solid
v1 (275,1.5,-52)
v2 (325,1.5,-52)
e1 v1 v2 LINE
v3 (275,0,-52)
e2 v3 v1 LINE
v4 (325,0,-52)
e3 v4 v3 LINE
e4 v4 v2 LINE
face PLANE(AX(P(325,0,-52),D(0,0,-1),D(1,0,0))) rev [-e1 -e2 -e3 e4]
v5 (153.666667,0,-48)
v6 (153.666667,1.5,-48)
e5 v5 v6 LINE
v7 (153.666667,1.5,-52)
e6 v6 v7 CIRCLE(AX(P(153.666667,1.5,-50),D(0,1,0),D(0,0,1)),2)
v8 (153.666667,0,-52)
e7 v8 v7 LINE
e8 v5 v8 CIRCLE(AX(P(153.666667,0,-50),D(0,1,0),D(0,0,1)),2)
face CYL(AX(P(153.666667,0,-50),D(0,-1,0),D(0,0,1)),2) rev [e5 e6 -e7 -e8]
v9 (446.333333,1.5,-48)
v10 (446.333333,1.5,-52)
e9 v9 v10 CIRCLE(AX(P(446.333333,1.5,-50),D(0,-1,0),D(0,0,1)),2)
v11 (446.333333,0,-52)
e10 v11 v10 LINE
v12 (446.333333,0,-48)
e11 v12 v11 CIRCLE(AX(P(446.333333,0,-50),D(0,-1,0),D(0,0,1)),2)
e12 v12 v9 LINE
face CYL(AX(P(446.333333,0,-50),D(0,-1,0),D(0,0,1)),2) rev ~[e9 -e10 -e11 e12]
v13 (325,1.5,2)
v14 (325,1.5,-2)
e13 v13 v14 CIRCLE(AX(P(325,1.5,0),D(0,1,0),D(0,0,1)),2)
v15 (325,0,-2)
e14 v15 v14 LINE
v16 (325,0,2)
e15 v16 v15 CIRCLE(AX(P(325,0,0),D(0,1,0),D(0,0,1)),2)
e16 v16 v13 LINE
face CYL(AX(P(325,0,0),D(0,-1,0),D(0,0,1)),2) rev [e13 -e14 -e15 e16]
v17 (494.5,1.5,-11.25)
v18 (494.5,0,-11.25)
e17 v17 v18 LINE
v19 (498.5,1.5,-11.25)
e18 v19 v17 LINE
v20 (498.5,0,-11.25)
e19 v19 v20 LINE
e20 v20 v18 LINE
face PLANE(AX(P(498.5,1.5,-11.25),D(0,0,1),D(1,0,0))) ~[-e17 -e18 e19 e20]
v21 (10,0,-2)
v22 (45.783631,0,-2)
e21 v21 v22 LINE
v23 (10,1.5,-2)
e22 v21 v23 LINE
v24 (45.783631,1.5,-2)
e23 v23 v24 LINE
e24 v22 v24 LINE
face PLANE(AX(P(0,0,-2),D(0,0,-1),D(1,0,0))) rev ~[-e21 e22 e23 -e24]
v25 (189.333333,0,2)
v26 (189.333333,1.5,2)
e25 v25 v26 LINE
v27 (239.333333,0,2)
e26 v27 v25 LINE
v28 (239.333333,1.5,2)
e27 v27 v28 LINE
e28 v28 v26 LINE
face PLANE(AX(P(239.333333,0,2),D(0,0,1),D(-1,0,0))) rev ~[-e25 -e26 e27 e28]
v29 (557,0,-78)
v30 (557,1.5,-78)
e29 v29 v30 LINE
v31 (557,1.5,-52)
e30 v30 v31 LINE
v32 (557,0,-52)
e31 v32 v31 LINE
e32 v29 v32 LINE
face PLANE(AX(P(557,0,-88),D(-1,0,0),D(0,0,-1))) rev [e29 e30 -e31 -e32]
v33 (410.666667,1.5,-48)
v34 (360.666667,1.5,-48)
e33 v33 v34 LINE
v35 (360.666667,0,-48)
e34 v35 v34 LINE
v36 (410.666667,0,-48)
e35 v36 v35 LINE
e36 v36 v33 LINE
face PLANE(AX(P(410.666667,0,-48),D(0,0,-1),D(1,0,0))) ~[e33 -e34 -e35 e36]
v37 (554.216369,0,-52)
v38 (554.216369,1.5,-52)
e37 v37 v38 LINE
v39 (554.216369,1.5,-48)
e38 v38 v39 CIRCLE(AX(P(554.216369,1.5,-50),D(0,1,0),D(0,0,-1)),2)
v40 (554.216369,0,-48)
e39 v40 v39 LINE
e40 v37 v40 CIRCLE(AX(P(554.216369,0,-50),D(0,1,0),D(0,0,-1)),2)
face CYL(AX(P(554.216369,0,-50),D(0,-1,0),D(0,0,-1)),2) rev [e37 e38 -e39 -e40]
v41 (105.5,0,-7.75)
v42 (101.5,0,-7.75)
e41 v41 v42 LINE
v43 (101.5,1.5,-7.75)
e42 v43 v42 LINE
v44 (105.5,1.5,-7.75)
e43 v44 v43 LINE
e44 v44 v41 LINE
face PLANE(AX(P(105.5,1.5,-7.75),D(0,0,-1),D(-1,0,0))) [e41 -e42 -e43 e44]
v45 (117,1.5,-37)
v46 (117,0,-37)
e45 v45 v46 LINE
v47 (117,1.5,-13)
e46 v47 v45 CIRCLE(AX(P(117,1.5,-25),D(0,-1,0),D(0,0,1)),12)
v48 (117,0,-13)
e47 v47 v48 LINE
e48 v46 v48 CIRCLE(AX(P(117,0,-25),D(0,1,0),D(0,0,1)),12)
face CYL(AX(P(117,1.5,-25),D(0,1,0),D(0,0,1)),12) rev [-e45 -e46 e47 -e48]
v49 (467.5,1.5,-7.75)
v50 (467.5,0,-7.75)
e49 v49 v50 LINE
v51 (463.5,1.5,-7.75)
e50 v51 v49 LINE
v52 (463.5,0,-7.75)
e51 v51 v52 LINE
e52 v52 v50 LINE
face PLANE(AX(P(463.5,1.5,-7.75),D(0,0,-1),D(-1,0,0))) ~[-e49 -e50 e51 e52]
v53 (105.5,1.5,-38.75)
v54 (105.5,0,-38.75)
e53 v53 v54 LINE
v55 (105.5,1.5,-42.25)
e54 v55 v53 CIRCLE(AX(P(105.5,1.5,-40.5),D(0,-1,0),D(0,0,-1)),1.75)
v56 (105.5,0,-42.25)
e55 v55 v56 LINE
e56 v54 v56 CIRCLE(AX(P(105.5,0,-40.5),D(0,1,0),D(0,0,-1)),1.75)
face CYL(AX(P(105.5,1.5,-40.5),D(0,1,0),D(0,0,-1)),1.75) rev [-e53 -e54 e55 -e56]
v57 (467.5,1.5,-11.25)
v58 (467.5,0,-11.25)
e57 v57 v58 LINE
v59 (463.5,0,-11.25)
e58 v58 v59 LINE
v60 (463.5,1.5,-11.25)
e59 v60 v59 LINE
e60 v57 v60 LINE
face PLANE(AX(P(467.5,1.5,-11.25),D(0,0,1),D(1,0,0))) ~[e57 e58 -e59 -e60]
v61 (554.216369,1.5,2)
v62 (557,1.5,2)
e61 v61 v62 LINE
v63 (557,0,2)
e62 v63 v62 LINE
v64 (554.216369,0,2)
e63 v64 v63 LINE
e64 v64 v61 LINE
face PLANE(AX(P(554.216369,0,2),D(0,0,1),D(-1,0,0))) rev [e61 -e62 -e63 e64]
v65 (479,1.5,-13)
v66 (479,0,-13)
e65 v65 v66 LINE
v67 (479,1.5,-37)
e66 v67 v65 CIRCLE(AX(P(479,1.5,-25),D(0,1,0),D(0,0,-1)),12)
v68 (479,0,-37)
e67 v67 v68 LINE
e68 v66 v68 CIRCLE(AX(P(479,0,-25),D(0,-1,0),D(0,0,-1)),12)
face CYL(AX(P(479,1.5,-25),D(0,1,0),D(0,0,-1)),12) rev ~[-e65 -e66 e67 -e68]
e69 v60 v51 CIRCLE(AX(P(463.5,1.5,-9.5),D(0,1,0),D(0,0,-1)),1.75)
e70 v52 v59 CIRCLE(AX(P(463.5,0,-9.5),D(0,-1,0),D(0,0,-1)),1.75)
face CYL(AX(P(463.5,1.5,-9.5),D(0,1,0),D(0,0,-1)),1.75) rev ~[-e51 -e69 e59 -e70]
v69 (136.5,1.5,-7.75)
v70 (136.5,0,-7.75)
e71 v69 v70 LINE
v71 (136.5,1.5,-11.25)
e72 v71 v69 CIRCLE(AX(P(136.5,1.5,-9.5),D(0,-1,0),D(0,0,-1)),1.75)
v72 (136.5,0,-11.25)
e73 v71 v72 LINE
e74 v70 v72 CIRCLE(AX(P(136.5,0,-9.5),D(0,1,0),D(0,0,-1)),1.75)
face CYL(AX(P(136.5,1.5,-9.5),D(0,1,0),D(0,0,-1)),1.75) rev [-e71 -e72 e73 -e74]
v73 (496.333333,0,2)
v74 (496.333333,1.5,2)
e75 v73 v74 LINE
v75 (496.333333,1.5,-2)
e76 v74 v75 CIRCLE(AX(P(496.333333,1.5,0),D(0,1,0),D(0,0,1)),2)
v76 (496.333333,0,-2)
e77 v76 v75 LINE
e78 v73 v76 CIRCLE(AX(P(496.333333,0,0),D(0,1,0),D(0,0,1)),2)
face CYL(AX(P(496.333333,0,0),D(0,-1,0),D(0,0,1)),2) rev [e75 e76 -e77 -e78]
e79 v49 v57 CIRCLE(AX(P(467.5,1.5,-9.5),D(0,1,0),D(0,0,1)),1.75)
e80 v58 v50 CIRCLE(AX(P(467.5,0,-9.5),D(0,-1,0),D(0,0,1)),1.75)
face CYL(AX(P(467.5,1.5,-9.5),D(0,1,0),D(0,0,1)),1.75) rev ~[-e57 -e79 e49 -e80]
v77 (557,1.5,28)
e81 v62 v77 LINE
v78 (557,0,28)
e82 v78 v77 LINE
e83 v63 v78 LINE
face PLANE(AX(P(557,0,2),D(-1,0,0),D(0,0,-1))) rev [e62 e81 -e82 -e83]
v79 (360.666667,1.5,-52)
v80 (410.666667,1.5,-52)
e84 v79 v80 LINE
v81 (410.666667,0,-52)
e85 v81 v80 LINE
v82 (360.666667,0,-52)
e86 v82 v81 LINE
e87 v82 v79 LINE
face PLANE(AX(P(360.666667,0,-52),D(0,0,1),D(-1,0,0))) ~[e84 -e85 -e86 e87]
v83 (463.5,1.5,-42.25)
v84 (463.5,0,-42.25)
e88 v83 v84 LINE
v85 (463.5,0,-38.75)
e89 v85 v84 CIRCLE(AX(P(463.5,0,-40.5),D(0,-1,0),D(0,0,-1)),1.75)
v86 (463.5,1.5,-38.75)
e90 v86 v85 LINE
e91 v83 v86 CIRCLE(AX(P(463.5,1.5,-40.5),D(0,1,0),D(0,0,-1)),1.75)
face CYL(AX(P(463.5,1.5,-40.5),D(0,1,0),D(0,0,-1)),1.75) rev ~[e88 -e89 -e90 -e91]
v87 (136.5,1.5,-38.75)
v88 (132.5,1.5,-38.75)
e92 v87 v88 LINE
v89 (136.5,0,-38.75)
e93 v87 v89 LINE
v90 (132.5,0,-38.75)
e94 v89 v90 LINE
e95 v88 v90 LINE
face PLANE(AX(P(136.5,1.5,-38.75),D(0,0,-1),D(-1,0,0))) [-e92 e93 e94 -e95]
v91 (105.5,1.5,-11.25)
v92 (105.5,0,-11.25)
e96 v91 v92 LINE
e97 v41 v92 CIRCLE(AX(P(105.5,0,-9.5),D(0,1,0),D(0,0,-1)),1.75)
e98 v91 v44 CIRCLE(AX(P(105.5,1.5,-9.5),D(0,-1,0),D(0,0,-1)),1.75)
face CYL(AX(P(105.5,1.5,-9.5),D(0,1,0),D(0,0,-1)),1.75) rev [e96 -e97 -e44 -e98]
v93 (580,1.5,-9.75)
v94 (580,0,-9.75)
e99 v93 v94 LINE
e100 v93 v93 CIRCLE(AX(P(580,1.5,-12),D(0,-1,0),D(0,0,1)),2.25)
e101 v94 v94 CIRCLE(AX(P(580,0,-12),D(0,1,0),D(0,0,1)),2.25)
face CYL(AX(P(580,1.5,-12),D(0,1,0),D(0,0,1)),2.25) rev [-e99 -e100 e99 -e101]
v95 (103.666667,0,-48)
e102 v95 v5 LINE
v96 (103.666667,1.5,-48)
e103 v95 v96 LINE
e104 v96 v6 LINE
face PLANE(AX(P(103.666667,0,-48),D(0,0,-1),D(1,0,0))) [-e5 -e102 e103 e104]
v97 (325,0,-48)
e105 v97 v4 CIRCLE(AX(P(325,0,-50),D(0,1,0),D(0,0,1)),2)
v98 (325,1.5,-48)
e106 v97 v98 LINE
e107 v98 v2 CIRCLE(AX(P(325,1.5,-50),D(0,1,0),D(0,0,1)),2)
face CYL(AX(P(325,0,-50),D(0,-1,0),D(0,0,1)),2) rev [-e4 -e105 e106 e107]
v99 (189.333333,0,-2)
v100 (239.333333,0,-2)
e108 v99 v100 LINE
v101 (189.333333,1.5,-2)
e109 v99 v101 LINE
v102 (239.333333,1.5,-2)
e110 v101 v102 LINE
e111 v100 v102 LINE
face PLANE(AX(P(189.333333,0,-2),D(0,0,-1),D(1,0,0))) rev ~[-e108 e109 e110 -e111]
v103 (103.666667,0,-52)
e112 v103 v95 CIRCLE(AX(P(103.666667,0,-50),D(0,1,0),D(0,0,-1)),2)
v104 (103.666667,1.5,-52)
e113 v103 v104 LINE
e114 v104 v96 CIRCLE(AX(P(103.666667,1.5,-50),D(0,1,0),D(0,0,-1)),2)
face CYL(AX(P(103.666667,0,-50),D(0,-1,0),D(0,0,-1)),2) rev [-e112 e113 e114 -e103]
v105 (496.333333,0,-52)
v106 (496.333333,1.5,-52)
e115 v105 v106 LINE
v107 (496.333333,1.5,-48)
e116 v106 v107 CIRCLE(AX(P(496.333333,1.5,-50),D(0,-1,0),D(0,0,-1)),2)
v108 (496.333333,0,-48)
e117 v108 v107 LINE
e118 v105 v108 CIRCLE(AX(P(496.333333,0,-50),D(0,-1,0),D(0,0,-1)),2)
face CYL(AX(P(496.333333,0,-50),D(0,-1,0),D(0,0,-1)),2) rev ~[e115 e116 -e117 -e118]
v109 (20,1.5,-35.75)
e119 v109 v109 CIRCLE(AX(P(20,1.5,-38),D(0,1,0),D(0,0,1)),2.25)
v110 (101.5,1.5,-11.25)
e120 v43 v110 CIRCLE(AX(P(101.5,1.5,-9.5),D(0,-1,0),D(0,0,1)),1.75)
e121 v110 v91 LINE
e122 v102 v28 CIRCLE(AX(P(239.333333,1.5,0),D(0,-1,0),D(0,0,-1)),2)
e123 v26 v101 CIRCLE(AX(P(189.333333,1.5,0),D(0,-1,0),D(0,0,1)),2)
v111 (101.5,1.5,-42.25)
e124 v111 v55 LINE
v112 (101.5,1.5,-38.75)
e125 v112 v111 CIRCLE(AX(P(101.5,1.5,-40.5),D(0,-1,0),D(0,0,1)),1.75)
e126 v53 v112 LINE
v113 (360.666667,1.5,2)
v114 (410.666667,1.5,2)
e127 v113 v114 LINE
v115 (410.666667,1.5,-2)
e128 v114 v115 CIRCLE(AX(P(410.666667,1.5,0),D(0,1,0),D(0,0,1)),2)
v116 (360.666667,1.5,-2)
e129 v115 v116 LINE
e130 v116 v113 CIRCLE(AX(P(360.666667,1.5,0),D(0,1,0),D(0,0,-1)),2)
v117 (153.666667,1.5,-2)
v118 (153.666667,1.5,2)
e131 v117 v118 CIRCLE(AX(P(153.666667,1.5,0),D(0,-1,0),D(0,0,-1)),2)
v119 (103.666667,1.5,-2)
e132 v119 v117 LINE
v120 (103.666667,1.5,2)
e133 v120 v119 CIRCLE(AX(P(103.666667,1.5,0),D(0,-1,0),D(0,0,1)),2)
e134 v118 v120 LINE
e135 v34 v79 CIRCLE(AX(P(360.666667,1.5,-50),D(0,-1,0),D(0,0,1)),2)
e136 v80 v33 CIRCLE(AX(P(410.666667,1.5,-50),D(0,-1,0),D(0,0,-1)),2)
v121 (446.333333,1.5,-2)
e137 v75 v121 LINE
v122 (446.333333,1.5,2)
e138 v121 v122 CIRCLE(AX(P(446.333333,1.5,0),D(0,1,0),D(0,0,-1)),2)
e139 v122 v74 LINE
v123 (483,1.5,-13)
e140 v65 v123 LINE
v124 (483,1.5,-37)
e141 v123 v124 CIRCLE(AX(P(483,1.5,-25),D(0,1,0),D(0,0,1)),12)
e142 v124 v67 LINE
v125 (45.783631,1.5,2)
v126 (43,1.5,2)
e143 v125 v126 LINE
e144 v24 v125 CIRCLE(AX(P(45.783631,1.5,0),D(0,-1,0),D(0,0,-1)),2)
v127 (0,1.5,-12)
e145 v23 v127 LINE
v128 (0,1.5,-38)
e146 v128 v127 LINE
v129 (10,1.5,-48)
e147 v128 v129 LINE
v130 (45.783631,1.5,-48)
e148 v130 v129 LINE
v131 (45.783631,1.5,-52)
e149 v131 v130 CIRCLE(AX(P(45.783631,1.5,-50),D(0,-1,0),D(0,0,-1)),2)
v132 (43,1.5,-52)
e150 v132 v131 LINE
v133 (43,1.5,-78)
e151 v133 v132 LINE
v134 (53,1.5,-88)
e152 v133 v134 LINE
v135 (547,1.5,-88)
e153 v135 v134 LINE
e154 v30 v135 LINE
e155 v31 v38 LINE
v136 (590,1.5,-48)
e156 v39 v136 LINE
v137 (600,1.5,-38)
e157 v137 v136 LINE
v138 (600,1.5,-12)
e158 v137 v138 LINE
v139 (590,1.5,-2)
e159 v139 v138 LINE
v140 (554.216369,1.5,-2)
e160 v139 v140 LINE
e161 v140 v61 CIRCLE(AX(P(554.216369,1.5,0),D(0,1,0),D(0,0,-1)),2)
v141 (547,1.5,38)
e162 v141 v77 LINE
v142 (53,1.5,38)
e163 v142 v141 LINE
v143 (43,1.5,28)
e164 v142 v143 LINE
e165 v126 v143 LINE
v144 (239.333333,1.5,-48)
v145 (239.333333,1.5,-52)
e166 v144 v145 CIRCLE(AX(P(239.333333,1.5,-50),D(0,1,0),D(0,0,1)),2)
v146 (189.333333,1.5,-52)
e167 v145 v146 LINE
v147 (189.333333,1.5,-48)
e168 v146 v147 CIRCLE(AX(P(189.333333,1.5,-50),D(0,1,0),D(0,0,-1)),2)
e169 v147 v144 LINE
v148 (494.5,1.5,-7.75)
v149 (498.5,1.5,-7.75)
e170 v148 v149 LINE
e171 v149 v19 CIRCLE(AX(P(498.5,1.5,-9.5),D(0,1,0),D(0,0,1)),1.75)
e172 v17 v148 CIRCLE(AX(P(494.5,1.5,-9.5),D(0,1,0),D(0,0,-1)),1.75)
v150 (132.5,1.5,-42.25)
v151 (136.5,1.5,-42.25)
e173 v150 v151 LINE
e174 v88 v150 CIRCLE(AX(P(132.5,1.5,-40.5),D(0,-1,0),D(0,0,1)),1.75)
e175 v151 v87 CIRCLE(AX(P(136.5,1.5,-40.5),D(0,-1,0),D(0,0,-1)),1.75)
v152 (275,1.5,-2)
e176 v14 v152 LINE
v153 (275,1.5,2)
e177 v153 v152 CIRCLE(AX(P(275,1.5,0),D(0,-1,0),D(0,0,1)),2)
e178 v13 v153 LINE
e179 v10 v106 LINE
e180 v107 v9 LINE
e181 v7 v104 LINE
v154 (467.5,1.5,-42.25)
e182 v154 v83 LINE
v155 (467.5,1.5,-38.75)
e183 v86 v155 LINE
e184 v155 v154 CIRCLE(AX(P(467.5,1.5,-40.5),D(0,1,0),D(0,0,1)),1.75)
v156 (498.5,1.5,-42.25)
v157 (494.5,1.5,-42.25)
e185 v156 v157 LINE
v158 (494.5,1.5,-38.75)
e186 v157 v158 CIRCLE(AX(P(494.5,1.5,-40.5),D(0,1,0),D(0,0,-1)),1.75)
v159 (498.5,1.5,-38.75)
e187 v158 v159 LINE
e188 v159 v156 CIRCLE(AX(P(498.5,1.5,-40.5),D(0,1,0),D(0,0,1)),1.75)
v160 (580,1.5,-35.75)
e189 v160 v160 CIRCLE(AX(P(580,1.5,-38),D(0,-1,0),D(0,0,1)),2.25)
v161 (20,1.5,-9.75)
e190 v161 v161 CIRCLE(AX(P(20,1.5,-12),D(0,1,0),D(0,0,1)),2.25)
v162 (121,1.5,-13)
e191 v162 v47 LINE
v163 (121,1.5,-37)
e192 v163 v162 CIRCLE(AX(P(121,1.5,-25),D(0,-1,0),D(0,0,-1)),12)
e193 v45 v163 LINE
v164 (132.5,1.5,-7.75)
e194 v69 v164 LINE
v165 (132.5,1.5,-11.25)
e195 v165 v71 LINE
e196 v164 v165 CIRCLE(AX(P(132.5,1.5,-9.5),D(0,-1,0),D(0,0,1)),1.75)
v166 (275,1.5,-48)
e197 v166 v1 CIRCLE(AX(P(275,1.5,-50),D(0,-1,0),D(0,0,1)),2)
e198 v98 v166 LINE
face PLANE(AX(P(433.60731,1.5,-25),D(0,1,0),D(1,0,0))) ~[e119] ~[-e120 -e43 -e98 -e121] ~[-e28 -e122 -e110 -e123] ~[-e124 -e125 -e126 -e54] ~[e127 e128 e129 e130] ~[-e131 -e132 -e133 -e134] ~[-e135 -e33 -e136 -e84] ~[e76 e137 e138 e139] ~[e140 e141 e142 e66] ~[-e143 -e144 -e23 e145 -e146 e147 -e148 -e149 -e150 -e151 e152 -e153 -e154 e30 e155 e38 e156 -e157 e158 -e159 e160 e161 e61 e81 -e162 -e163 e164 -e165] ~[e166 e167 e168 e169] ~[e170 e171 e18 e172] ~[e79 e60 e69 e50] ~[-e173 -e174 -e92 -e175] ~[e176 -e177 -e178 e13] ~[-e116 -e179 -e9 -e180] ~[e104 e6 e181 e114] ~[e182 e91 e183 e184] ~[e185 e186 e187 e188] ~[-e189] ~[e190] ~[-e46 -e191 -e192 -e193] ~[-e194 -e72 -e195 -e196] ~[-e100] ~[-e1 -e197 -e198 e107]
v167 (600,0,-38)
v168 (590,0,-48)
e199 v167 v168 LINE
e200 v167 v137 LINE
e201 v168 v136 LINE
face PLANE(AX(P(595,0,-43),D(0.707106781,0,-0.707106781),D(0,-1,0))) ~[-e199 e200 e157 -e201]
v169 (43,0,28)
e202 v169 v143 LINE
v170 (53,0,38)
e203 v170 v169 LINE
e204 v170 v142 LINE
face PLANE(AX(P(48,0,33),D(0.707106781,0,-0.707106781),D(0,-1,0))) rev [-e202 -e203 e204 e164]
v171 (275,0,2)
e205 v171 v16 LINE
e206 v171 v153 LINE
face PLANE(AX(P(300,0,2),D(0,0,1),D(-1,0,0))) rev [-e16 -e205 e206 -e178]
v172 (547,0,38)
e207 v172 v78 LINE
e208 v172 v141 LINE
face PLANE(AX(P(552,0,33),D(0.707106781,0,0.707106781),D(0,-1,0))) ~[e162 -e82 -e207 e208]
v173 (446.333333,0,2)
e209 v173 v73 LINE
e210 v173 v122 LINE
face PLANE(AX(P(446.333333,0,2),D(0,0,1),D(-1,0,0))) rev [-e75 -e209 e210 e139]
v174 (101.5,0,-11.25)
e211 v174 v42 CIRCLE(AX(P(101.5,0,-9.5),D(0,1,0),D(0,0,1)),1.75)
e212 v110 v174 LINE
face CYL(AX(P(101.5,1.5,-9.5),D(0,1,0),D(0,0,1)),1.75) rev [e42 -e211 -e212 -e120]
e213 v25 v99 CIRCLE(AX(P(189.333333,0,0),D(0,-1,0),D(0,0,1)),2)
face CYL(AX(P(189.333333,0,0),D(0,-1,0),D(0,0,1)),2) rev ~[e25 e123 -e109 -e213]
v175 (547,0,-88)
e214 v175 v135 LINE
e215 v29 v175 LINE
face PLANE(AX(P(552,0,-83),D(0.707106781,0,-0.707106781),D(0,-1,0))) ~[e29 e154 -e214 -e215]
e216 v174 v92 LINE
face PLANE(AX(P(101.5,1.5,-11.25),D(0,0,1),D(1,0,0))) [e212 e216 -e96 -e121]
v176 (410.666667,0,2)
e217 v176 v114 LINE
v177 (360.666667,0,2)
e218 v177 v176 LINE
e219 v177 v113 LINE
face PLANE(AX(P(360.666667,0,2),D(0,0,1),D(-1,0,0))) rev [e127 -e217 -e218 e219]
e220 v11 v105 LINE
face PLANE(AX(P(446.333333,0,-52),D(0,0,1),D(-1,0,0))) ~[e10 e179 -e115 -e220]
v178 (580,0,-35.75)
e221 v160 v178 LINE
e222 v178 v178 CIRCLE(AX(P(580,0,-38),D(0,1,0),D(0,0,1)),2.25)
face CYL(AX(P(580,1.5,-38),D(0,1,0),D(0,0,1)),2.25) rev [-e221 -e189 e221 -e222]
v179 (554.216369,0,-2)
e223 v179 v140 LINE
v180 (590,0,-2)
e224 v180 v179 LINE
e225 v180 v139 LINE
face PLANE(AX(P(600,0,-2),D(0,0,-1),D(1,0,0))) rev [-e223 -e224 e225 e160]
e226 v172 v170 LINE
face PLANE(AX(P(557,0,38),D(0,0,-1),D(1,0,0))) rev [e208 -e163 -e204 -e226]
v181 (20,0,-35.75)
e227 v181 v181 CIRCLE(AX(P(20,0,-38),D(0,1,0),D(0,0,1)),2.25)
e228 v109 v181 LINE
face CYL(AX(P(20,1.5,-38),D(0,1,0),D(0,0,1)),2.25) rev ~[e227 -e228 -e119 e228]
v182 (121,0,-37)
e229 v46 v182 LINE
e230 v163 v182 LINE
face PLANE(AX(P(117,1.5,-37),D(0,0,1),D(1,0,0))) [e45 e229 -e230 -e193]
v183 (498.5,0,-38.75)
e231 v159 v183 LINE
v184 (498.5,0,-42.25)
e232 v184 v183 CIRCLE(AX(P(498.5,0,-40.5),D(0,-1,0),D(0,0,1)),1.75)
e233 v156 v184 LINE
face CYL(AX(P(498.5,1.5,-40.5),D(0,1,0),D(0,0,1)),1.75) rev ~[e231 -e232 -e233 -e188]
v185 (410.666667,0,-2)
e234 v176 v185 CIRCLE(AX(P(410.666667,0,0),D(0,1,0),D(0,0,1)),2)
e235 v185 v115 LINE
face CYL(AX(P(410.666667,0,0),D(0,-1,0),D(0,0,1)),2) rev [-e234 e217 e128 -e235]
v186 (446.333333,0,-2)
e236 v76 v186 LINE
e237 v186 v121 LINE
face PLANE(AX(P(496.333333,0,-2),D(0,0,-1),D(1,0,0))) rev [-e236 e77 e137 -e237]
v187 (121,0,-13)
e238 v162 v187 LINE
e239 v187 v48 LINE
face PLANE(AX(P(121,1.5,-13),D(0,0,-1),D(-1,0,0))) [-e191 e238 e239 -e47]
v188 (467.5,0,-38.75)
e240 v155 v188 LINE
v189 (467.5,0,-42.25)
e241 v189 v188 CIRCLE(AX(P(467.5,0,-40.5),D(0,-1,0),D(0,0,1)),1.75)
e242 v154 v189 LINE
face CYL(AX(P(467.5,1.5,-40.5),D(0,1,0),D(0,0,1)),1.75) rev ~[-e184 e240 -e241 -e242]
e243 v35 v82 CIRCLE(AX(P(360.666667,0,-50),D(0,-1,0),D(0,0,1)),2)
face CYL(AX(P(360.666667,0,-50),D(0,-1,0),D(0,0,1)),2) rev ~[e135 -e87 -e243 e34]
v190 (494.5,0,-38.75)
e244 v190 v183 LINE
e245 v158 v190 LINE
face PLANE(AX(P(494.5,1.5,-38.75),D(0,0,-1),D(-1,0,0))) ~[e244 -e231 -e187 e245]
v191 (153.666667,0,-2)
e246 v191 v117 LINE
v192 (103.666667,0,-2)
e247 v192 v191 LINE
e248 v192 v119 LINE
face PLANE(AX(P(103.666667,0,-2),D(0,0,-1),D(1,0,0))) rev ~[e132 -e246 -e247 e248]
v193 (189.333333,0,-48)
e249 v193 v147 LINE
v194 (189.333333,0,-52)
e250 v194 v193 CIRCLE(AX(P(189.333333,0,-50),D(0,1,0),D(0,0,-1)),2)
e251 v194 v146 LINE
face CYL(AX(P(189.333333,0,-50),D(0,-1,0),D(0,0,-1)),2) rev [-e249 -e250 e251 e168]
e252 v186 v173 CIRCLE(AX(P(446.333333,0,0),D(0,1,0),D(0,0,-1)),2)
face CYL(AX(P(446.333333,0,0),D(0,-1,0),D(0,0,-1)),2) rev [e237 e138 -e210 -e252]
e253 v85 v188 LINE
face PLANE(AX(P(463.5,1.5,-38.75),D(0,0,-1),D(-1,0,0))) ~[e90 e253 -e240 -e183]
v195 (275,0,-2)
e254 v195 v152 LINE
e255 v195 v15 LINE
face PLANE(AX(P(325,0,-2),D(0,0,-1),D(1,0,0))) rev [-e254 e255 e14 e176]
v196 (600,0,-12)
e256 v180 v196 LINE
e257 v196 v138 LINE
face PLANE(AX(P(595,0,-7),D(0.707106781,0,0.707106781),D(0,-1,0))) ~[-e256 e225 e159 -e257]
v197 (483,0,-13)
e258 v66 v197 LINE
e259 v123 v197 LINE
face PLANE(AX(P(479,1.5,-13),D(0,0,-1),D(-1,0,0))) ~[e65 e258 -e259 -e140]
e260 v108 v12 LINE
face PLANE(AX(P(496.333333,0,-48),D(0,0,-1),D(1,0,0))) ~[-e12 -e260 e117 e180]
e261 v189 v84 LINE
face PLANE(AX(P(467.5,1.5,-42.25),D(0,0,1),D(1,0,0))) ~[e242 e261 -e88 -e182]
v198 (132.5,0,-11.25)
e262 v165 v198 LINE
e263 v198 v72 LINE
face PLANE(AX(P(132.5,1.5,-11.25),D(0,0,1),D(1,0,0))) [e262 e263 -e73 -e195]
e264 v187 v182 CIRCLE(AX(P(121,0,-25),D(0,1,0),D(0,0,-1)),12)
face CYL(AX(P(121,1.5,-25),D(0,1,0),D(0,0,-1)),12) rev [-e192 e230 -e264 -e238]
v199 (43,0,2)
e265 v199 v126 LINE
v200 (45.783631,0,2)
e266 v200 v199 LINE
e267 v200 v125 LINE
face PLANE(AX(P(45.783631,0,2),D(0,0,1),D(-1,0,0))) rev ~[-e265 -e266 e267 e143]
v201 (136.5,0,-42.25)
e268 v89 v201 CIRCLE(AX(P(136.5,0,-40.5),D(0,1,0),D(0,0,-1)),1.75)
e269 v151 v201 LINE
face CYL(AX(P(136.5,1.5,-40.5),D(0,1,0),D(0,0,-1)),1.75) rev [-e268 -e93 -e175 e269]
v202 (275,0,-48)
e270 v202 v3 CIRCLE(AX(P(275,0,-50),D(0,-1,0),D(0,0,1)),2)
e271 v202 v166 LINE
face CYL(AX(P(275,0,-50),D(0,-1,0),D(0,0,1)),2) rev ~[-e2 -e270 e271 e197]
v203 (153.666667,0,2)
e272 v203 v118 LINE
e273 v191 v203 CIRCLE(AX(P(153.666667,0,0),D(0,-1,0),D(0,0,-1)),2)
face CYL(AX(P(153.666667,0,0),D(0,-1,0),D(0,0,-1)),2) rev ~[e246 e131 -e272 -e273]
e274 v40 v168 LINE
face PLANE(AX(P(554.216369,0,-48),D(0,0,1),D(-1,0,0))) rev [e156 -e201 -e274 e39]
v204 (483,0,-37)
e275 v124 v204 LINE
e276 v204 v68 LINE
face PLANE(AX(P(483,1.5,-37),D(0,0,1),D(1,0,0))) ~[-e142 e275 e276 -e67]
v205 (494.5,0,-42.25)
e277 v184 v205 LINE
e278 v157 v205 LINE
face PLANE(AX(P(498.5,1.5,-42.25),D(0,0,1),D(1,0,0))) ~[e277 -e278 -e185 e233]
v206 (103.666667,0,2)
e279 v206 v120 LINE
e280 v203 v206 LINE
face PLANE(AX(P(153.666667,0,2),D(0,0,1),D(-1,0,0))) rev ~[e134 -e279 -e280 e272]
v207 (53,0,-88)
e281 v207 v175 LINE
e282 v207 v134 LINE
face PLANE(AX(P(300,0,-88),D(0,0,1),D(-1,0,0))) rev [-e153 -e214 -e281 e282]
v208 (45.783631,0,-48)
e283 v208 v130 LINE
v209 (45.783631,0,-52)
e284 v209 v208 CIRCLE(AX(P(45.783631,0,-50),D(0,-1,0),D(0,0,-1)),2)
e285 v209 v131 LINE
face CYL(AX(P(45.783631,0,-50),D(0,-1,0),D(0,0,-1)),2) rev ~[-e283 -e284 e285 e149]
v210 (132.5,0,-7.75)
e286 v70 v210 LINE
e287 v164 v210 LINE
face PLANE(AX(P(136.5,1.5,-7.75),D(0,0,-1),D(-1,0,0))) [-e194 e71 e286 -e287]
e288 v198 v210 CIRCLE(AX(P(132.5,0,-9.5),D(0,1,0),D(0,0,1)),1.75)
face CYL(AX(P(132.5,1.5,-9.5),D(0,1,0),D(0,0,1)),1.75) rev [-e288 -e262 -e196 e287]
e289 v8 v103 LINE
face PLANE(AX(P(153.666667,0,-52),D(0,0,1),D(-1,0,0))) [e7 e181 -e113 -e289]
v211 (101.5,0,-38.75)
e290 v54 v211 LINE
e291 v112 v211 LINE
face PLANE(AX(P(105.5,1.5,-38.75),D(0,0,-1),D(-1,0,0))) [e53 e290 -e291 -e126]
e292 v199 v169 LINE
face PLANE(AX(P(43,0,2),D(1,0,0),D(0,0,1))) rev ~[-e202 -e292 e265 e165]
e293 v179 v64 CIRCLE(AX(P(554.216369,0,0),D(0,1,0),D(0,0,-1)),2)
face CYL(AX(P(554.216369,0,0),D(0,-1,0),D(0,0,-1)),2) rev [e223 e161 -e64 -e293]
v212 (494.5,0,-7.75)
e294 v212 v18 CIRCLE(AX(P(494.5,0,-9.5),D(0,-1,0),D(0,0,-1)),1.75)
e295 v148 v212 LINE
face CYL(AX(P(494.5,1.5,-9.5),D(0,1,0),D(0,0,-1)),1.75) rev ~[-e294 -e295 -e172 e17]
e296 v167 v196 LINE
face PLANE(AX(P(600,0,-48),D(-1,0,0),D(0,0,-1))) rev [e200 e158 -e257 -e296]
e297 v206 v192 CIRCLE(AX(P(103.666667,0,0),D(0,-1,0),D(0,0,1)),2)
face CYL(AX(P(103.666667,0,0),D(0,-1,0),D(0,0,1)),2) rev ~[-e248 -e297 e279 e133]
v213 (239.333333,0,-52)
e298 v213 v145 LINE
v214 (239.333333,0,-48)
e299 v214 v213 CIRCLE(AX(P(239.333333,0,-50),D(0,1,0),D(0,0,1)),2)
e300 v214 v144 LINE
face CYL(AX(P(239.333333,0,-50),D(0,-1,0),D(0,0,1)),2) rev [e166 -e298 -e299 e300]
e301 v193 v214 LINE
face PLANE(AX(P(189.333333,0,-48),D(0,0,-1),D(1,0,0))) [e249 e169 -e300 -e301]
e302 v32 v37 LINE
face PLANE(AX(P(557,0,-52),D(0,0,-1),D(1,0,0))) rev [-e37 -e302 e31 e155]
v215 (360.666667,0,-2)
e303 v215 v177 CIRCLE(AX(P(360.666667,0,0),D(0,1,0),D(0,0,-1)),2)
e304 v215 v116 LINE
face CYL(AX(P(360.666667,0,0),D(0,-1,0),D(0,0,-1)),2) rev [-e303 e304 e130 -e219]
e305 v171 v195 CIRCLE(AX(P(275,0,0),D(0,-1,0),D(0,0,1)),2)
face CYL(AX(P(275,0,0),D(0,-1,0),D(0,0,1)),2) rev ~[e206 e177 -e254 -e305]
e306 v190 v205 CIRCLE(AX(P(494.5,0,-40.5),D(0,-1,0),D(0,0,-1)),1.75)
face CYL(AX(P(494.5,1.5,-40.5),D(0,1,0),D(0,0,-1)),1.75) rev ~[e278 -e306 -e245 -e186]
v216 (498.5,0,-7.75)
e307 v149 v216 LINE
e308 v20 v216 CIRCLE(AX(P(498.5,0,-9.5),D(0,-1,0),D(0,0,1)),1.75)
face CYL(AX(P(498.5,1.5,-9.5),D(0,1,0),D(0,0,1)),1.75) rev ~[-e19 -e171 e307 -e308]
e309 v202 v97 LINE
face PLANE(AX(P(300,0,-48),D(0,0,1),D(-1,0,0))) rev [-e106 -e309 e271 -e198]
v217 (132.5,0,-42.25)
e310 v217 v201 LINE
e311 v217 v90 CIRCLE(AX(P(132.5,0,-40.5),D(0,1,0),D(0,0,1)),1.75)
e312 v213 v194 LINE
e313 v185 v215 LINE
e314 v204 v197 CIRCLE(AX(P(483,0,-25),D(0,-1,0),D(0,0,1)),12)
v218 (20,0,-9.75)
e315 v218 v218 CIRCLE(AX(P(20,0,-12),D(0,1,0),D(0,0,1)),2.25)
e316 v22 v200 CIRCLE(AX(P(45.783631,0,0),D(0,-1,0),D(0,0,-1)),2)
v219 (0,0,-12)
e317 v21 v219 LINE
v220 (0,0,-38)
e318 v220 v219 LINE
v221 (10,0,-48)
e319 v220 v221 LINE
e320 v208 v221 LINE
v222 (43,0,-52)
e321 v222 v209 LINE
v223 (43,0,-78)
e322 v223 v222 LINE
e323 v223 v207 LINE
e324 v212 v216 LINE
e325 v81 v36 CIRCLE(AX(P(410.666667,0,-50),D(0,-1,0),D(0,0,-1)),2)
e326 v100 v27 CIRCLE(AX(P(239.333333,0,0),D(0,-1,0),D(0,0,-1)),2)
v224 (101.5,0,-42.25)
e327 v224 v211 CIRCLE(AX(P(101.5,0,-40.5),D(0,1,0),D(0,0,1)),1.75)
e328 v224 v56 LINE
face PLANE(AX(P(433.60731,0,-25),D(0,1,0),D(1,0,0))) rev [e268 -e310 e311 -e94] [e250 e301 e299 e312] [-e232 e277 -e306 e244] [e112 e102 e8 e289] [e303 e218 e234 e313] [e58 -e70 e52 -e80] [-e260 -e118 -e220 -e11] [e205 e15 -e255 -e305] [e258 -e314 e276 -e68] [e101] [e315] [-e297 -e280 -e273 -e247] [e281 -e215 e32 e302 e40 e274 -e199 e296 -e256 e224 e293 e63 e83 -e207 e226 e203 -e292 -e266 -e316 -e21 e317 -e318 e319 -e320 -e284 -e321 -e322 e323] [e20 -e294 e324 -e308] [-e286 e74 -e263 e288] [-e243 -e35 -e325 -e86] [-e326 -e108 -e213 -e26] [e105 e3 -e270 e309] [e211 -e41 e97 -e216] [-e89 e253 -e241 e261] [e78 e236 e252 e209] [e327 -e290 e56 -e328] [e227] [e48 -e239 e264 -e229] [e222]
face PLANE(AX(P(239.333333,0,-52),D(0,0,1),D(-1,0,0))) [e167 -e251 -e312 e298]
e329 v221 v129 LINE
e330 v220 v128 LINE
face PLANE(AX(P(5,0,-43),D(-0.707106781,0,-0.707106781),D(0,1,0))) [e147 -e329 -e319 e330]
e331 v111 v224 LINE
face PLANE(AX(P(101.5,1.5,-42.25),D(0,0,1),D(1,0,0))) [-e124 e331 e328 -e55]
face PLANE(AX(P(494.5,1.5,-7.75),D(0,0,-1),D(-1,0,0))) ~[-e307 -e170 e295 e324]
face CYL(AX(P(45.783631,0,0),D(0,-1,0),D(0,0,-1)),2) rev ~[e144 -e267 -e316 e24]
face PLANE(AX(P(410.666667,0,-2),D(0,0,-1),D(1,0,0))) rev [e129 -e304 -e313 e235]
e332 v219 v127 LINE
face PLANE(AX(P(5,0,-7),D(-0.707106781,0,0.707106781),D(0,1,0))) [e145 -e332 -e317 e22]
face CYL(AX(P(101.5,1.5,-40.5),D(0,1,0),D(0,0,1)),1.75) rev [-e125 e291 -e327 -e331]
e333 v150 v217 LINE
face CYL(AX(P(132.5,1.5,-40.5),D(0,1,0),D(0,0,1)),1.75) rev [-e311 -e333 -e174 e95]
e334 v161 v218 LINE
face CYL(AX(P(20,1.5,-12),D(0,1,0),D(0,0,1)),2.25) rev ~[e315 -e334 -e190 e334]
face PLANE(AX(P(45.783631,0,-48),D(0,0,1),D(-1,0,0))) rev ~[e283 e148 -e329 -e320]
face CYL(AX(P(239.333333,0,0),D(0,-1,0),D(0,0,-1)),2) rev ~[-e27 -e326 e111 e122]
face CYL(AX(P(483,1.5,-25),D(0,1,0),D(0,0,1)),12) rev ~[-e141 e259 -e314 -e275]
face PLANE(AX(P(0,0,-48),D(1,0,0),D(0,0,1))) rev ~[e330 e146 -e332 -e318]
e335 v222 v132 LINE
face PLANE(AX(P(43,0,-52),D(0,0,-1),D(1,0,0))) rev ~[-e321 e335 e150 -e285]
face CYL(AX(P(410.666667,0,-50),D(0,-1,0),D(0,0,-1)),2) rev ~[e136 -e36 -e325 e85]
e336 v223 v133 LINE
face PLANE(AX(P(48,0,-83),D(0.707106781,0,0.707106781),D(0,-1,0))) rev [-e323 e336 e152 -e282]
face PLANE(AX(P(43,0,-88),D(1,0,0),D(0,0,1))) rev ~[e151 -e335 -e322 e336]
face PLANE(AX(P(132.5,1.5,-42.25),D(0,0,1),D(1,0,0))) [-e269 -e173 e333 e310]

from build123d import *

# Parameters (mm, degrees)
BOSS_EXTRUDE1_DEPTH = 1.5
CUT_EXTRUDE2_DEPTH  = 3
SKETCH4_R           = 2.25
CUT_EXTRUDE3_DEPTH  = 10
CHAMFER3_SIZE       = 10
CHAMFER4_SIZE       = 10


with BuildPart() as part:
    # Sketch1 → Boss-Extrude1 (new body)
    with BuildSketch(Plane(origin=(0, 0, 0), x_dir=(1, 0, 0), z_dir=(0, 1, 0))):
        with BuildLine():
            Line((300, 2), (300, 48))
            Line((300, 48), (275, 48))
            ThreePointArc((275, 48), (273, 50), (275, 52))
            Line((275, 52), (300, 52))
            Line((300, 52), (300, 88))
            Line((300, 88), (43, 88))
            Line((43, 88), (43, 52))
            Line((43, 52), (45.783630632, 52))
            ThreePointArc((45.783630632, 52), (47.783630632, 50), (45.783630632, 48))
            Line((45.783630632, 48), (43, 48))
            Line((43, 48), (0, 48))
            Line((0, 48), (0, 2))
            Line((0, 2), (43, 2))
            Line((43, 2), (45.783630632, 2))
            ThreePointArc((45.783630632, 2), (47.783630632, 0), (45.783630632, -2))
            Line((45.783630632, -2), (43, -2))
            Line((43, -2), (43, -38))
            Line((43, -38), (300, -38))
            Line((300, -38), (300, -2))
            Line((300, -2), (275, -2))
            ThreePointArc((275, -2), (273, 0), (275, 2))
            Line((275, 2), (300, 2))
        make_face()
        with BuildLine():
            Line((103.666666667, 2), (153.666666667, 2))
            ThreePointArc((153.666666667, 2), (155.666666667, 0), (153.666666667, -2))
            Line((153.666666667, -2), (103.666666667, -2))
            ThreePointArc((103.666666667, -2), (101.666666667, 0), (103.666666667, 2))
        make_face(mode=Mode.SUBTRACT)
        with BuildLine():
            Line((189.333333333, 2), (239.333333333, 2))
            ThreePointArc((239.333333333, 2), (241.333333333, 0), (239.333333333, -2))
            Line((239.333333333, -2), (189.333333333, -2))
            ThreePointArc((189.333333333, -2), (187.333333333, 0), (189.333333333, 2))
        make_face(mode=Mode.SUBTRACT)
        with BuildLine():
            Line((189.333333333, 48), (239.333333333, 48))
            ThreePointArc((239.333333333, 48), (241.333333333, 50), (239.333333333, 52))
            Line((239.333333333, 52), (189.333333333, 52))
            ThreePointArc((189.333333333, 52), (187.333333333, 50), (189.333333333, 48))
        make_face(mode=Mode.SUBTRACT)
        with BuildLine():
            Line((103.666666667, 48), (153.666666667, 48))
            ThreePointArc((153.666666667, 48), (155.666666667, 50), (153.666666667, 52))
            Line((153.666666667, 52), (103.666666667, 52))
            ThreePointArc((103.666666667, 52), (101.666666667, 50), (103.666666667, 48))
        make_face(mode=Mode.SUBTRACT)
    extrude(amount=BOSS_EXTRUDE1_DEPTH)

    # Sketch3 → Cut-Extrude2 (cut)
    with BuildSketch(Plane(origin=(0, 1.5, 0), x_dir=(1, 0, 0), z_dir=(0, 1, 0))):
        with BuildLine():
            Line((117, 37), (121, 37))
            ThreePointArc((121, 37), (133, 25), (121, 13))
            Line((121, 13), (117, 13))
            ThreePointArc((117, 13), (105, 25), (117, 37))
        make_face()
        with BuildLine():
            Line((101.5, 11.25), (105.5, 11.25))
            ThreePointArc((105.5, 11.25), (107.25, 9.5), (105.5, 7.75))
            Line((105.5, 7.75), (101.5, 7.75))
            ThreePointArc((101.5, 7.75), (99.75, 9.5), (101.5, 11.25))
        make_face()
        with BuildLine():
            Line((136.5, 7.75), (132.5, 7.75))
            ThreePointArc((132.5, 7.75), (130.75, 9.5), (132.5, 11.25))
            Line((132.5, 11.25), (136.5, 11.25))
            ThreePointArc((136.5, 11.25), (138.25, 9.5), (136.5, 7.75))
        make_face()
        with BuildLine():
            Line((132.5, 42.25), (136.5, 42.25))
            ThreePointArc((136.5, 42.25), (138.25, 40.5), (136.5, 38.75))
            Line((136.5, 38.75), (132.5, 38.75))
            ThreePointArc((132.5, 38.75), (130.75, 40.5), (132.5, 42.25))
        make_face()
        with BuildLine():
            Line((105.5, 38.75), (101.5, 38.75))
            ThreePointArc((101.5, 38.75), (99.75, 40.5), (101.5, 42.25))
            Line((101.5, 42.25), (105.5, 42.25))
            ThreePointArc((105.5, 42.25), (107.25, 40.5), (105.5, 38.75))
        make_face()
    extrude(amount=-CUT_EXTRUDE2_DEPTH, mode=Mode.SUBTRACT)

    # Mirror3: part across plane


with BuildPart() as part_1:
    add(part.part)
    add(part.part.mirror(Plane(origin=(300, 0, 0), x_dir=(0, 0, 1), z_dir=(1, 0, 0))))

    # Sketch4 → Cut-Extrude3 (cut)
    with BuildSketch(Plane(origin=(0, 1.5, 0), x_dir=(1, 0, 0), z_dir=(0, 1, 0))):
        with Locations(Location((20, 38, 0), (0, 0, 270))):
            Circle(SKETCH4_R)
        with Locations(Location((20, 12, 0), (0, 0, 270))):
            Circle(SKETCH4_R)
    cut_extrude3 = extrude(amount=-CUT_EXTRUDE3_DEPTH, mode=Mode.SUBTRACT)

    # Mirror4: Cut-Extrude3 across plane
    add(cut_extrude3.mirror(Plane(origin=(300, 0, 0), x_dir=(0, 0, 1), z_dir=(1, 0, 0))), mode=Mode.SUBTRACT)

    # Chamfer3
    chamfer3_edges = [part_1.edges().sort_by_distance(p)[0] for p in [
        (43, 0.75, 38),
        (0, 0.75, -2),
        (0, 0.75, -48),
        (43, 0.75, -88),
    ]]
    chamfer(chamfer3_edges, length=CHAMFER3_SIZE)

    # Chamfer4
    chamfer4_edges = [part_1.edges().sort_by_distance(p)[0] for p in [
        (557, 0.75, -88),
        (600, 0.75, -48),
        (600, 0.75, -2),
        (557, 0.75, 38),
    ]]
    chamfer(chamfer4_edges, length=CHAMFER4_SIZE)


solid = part_1.part
